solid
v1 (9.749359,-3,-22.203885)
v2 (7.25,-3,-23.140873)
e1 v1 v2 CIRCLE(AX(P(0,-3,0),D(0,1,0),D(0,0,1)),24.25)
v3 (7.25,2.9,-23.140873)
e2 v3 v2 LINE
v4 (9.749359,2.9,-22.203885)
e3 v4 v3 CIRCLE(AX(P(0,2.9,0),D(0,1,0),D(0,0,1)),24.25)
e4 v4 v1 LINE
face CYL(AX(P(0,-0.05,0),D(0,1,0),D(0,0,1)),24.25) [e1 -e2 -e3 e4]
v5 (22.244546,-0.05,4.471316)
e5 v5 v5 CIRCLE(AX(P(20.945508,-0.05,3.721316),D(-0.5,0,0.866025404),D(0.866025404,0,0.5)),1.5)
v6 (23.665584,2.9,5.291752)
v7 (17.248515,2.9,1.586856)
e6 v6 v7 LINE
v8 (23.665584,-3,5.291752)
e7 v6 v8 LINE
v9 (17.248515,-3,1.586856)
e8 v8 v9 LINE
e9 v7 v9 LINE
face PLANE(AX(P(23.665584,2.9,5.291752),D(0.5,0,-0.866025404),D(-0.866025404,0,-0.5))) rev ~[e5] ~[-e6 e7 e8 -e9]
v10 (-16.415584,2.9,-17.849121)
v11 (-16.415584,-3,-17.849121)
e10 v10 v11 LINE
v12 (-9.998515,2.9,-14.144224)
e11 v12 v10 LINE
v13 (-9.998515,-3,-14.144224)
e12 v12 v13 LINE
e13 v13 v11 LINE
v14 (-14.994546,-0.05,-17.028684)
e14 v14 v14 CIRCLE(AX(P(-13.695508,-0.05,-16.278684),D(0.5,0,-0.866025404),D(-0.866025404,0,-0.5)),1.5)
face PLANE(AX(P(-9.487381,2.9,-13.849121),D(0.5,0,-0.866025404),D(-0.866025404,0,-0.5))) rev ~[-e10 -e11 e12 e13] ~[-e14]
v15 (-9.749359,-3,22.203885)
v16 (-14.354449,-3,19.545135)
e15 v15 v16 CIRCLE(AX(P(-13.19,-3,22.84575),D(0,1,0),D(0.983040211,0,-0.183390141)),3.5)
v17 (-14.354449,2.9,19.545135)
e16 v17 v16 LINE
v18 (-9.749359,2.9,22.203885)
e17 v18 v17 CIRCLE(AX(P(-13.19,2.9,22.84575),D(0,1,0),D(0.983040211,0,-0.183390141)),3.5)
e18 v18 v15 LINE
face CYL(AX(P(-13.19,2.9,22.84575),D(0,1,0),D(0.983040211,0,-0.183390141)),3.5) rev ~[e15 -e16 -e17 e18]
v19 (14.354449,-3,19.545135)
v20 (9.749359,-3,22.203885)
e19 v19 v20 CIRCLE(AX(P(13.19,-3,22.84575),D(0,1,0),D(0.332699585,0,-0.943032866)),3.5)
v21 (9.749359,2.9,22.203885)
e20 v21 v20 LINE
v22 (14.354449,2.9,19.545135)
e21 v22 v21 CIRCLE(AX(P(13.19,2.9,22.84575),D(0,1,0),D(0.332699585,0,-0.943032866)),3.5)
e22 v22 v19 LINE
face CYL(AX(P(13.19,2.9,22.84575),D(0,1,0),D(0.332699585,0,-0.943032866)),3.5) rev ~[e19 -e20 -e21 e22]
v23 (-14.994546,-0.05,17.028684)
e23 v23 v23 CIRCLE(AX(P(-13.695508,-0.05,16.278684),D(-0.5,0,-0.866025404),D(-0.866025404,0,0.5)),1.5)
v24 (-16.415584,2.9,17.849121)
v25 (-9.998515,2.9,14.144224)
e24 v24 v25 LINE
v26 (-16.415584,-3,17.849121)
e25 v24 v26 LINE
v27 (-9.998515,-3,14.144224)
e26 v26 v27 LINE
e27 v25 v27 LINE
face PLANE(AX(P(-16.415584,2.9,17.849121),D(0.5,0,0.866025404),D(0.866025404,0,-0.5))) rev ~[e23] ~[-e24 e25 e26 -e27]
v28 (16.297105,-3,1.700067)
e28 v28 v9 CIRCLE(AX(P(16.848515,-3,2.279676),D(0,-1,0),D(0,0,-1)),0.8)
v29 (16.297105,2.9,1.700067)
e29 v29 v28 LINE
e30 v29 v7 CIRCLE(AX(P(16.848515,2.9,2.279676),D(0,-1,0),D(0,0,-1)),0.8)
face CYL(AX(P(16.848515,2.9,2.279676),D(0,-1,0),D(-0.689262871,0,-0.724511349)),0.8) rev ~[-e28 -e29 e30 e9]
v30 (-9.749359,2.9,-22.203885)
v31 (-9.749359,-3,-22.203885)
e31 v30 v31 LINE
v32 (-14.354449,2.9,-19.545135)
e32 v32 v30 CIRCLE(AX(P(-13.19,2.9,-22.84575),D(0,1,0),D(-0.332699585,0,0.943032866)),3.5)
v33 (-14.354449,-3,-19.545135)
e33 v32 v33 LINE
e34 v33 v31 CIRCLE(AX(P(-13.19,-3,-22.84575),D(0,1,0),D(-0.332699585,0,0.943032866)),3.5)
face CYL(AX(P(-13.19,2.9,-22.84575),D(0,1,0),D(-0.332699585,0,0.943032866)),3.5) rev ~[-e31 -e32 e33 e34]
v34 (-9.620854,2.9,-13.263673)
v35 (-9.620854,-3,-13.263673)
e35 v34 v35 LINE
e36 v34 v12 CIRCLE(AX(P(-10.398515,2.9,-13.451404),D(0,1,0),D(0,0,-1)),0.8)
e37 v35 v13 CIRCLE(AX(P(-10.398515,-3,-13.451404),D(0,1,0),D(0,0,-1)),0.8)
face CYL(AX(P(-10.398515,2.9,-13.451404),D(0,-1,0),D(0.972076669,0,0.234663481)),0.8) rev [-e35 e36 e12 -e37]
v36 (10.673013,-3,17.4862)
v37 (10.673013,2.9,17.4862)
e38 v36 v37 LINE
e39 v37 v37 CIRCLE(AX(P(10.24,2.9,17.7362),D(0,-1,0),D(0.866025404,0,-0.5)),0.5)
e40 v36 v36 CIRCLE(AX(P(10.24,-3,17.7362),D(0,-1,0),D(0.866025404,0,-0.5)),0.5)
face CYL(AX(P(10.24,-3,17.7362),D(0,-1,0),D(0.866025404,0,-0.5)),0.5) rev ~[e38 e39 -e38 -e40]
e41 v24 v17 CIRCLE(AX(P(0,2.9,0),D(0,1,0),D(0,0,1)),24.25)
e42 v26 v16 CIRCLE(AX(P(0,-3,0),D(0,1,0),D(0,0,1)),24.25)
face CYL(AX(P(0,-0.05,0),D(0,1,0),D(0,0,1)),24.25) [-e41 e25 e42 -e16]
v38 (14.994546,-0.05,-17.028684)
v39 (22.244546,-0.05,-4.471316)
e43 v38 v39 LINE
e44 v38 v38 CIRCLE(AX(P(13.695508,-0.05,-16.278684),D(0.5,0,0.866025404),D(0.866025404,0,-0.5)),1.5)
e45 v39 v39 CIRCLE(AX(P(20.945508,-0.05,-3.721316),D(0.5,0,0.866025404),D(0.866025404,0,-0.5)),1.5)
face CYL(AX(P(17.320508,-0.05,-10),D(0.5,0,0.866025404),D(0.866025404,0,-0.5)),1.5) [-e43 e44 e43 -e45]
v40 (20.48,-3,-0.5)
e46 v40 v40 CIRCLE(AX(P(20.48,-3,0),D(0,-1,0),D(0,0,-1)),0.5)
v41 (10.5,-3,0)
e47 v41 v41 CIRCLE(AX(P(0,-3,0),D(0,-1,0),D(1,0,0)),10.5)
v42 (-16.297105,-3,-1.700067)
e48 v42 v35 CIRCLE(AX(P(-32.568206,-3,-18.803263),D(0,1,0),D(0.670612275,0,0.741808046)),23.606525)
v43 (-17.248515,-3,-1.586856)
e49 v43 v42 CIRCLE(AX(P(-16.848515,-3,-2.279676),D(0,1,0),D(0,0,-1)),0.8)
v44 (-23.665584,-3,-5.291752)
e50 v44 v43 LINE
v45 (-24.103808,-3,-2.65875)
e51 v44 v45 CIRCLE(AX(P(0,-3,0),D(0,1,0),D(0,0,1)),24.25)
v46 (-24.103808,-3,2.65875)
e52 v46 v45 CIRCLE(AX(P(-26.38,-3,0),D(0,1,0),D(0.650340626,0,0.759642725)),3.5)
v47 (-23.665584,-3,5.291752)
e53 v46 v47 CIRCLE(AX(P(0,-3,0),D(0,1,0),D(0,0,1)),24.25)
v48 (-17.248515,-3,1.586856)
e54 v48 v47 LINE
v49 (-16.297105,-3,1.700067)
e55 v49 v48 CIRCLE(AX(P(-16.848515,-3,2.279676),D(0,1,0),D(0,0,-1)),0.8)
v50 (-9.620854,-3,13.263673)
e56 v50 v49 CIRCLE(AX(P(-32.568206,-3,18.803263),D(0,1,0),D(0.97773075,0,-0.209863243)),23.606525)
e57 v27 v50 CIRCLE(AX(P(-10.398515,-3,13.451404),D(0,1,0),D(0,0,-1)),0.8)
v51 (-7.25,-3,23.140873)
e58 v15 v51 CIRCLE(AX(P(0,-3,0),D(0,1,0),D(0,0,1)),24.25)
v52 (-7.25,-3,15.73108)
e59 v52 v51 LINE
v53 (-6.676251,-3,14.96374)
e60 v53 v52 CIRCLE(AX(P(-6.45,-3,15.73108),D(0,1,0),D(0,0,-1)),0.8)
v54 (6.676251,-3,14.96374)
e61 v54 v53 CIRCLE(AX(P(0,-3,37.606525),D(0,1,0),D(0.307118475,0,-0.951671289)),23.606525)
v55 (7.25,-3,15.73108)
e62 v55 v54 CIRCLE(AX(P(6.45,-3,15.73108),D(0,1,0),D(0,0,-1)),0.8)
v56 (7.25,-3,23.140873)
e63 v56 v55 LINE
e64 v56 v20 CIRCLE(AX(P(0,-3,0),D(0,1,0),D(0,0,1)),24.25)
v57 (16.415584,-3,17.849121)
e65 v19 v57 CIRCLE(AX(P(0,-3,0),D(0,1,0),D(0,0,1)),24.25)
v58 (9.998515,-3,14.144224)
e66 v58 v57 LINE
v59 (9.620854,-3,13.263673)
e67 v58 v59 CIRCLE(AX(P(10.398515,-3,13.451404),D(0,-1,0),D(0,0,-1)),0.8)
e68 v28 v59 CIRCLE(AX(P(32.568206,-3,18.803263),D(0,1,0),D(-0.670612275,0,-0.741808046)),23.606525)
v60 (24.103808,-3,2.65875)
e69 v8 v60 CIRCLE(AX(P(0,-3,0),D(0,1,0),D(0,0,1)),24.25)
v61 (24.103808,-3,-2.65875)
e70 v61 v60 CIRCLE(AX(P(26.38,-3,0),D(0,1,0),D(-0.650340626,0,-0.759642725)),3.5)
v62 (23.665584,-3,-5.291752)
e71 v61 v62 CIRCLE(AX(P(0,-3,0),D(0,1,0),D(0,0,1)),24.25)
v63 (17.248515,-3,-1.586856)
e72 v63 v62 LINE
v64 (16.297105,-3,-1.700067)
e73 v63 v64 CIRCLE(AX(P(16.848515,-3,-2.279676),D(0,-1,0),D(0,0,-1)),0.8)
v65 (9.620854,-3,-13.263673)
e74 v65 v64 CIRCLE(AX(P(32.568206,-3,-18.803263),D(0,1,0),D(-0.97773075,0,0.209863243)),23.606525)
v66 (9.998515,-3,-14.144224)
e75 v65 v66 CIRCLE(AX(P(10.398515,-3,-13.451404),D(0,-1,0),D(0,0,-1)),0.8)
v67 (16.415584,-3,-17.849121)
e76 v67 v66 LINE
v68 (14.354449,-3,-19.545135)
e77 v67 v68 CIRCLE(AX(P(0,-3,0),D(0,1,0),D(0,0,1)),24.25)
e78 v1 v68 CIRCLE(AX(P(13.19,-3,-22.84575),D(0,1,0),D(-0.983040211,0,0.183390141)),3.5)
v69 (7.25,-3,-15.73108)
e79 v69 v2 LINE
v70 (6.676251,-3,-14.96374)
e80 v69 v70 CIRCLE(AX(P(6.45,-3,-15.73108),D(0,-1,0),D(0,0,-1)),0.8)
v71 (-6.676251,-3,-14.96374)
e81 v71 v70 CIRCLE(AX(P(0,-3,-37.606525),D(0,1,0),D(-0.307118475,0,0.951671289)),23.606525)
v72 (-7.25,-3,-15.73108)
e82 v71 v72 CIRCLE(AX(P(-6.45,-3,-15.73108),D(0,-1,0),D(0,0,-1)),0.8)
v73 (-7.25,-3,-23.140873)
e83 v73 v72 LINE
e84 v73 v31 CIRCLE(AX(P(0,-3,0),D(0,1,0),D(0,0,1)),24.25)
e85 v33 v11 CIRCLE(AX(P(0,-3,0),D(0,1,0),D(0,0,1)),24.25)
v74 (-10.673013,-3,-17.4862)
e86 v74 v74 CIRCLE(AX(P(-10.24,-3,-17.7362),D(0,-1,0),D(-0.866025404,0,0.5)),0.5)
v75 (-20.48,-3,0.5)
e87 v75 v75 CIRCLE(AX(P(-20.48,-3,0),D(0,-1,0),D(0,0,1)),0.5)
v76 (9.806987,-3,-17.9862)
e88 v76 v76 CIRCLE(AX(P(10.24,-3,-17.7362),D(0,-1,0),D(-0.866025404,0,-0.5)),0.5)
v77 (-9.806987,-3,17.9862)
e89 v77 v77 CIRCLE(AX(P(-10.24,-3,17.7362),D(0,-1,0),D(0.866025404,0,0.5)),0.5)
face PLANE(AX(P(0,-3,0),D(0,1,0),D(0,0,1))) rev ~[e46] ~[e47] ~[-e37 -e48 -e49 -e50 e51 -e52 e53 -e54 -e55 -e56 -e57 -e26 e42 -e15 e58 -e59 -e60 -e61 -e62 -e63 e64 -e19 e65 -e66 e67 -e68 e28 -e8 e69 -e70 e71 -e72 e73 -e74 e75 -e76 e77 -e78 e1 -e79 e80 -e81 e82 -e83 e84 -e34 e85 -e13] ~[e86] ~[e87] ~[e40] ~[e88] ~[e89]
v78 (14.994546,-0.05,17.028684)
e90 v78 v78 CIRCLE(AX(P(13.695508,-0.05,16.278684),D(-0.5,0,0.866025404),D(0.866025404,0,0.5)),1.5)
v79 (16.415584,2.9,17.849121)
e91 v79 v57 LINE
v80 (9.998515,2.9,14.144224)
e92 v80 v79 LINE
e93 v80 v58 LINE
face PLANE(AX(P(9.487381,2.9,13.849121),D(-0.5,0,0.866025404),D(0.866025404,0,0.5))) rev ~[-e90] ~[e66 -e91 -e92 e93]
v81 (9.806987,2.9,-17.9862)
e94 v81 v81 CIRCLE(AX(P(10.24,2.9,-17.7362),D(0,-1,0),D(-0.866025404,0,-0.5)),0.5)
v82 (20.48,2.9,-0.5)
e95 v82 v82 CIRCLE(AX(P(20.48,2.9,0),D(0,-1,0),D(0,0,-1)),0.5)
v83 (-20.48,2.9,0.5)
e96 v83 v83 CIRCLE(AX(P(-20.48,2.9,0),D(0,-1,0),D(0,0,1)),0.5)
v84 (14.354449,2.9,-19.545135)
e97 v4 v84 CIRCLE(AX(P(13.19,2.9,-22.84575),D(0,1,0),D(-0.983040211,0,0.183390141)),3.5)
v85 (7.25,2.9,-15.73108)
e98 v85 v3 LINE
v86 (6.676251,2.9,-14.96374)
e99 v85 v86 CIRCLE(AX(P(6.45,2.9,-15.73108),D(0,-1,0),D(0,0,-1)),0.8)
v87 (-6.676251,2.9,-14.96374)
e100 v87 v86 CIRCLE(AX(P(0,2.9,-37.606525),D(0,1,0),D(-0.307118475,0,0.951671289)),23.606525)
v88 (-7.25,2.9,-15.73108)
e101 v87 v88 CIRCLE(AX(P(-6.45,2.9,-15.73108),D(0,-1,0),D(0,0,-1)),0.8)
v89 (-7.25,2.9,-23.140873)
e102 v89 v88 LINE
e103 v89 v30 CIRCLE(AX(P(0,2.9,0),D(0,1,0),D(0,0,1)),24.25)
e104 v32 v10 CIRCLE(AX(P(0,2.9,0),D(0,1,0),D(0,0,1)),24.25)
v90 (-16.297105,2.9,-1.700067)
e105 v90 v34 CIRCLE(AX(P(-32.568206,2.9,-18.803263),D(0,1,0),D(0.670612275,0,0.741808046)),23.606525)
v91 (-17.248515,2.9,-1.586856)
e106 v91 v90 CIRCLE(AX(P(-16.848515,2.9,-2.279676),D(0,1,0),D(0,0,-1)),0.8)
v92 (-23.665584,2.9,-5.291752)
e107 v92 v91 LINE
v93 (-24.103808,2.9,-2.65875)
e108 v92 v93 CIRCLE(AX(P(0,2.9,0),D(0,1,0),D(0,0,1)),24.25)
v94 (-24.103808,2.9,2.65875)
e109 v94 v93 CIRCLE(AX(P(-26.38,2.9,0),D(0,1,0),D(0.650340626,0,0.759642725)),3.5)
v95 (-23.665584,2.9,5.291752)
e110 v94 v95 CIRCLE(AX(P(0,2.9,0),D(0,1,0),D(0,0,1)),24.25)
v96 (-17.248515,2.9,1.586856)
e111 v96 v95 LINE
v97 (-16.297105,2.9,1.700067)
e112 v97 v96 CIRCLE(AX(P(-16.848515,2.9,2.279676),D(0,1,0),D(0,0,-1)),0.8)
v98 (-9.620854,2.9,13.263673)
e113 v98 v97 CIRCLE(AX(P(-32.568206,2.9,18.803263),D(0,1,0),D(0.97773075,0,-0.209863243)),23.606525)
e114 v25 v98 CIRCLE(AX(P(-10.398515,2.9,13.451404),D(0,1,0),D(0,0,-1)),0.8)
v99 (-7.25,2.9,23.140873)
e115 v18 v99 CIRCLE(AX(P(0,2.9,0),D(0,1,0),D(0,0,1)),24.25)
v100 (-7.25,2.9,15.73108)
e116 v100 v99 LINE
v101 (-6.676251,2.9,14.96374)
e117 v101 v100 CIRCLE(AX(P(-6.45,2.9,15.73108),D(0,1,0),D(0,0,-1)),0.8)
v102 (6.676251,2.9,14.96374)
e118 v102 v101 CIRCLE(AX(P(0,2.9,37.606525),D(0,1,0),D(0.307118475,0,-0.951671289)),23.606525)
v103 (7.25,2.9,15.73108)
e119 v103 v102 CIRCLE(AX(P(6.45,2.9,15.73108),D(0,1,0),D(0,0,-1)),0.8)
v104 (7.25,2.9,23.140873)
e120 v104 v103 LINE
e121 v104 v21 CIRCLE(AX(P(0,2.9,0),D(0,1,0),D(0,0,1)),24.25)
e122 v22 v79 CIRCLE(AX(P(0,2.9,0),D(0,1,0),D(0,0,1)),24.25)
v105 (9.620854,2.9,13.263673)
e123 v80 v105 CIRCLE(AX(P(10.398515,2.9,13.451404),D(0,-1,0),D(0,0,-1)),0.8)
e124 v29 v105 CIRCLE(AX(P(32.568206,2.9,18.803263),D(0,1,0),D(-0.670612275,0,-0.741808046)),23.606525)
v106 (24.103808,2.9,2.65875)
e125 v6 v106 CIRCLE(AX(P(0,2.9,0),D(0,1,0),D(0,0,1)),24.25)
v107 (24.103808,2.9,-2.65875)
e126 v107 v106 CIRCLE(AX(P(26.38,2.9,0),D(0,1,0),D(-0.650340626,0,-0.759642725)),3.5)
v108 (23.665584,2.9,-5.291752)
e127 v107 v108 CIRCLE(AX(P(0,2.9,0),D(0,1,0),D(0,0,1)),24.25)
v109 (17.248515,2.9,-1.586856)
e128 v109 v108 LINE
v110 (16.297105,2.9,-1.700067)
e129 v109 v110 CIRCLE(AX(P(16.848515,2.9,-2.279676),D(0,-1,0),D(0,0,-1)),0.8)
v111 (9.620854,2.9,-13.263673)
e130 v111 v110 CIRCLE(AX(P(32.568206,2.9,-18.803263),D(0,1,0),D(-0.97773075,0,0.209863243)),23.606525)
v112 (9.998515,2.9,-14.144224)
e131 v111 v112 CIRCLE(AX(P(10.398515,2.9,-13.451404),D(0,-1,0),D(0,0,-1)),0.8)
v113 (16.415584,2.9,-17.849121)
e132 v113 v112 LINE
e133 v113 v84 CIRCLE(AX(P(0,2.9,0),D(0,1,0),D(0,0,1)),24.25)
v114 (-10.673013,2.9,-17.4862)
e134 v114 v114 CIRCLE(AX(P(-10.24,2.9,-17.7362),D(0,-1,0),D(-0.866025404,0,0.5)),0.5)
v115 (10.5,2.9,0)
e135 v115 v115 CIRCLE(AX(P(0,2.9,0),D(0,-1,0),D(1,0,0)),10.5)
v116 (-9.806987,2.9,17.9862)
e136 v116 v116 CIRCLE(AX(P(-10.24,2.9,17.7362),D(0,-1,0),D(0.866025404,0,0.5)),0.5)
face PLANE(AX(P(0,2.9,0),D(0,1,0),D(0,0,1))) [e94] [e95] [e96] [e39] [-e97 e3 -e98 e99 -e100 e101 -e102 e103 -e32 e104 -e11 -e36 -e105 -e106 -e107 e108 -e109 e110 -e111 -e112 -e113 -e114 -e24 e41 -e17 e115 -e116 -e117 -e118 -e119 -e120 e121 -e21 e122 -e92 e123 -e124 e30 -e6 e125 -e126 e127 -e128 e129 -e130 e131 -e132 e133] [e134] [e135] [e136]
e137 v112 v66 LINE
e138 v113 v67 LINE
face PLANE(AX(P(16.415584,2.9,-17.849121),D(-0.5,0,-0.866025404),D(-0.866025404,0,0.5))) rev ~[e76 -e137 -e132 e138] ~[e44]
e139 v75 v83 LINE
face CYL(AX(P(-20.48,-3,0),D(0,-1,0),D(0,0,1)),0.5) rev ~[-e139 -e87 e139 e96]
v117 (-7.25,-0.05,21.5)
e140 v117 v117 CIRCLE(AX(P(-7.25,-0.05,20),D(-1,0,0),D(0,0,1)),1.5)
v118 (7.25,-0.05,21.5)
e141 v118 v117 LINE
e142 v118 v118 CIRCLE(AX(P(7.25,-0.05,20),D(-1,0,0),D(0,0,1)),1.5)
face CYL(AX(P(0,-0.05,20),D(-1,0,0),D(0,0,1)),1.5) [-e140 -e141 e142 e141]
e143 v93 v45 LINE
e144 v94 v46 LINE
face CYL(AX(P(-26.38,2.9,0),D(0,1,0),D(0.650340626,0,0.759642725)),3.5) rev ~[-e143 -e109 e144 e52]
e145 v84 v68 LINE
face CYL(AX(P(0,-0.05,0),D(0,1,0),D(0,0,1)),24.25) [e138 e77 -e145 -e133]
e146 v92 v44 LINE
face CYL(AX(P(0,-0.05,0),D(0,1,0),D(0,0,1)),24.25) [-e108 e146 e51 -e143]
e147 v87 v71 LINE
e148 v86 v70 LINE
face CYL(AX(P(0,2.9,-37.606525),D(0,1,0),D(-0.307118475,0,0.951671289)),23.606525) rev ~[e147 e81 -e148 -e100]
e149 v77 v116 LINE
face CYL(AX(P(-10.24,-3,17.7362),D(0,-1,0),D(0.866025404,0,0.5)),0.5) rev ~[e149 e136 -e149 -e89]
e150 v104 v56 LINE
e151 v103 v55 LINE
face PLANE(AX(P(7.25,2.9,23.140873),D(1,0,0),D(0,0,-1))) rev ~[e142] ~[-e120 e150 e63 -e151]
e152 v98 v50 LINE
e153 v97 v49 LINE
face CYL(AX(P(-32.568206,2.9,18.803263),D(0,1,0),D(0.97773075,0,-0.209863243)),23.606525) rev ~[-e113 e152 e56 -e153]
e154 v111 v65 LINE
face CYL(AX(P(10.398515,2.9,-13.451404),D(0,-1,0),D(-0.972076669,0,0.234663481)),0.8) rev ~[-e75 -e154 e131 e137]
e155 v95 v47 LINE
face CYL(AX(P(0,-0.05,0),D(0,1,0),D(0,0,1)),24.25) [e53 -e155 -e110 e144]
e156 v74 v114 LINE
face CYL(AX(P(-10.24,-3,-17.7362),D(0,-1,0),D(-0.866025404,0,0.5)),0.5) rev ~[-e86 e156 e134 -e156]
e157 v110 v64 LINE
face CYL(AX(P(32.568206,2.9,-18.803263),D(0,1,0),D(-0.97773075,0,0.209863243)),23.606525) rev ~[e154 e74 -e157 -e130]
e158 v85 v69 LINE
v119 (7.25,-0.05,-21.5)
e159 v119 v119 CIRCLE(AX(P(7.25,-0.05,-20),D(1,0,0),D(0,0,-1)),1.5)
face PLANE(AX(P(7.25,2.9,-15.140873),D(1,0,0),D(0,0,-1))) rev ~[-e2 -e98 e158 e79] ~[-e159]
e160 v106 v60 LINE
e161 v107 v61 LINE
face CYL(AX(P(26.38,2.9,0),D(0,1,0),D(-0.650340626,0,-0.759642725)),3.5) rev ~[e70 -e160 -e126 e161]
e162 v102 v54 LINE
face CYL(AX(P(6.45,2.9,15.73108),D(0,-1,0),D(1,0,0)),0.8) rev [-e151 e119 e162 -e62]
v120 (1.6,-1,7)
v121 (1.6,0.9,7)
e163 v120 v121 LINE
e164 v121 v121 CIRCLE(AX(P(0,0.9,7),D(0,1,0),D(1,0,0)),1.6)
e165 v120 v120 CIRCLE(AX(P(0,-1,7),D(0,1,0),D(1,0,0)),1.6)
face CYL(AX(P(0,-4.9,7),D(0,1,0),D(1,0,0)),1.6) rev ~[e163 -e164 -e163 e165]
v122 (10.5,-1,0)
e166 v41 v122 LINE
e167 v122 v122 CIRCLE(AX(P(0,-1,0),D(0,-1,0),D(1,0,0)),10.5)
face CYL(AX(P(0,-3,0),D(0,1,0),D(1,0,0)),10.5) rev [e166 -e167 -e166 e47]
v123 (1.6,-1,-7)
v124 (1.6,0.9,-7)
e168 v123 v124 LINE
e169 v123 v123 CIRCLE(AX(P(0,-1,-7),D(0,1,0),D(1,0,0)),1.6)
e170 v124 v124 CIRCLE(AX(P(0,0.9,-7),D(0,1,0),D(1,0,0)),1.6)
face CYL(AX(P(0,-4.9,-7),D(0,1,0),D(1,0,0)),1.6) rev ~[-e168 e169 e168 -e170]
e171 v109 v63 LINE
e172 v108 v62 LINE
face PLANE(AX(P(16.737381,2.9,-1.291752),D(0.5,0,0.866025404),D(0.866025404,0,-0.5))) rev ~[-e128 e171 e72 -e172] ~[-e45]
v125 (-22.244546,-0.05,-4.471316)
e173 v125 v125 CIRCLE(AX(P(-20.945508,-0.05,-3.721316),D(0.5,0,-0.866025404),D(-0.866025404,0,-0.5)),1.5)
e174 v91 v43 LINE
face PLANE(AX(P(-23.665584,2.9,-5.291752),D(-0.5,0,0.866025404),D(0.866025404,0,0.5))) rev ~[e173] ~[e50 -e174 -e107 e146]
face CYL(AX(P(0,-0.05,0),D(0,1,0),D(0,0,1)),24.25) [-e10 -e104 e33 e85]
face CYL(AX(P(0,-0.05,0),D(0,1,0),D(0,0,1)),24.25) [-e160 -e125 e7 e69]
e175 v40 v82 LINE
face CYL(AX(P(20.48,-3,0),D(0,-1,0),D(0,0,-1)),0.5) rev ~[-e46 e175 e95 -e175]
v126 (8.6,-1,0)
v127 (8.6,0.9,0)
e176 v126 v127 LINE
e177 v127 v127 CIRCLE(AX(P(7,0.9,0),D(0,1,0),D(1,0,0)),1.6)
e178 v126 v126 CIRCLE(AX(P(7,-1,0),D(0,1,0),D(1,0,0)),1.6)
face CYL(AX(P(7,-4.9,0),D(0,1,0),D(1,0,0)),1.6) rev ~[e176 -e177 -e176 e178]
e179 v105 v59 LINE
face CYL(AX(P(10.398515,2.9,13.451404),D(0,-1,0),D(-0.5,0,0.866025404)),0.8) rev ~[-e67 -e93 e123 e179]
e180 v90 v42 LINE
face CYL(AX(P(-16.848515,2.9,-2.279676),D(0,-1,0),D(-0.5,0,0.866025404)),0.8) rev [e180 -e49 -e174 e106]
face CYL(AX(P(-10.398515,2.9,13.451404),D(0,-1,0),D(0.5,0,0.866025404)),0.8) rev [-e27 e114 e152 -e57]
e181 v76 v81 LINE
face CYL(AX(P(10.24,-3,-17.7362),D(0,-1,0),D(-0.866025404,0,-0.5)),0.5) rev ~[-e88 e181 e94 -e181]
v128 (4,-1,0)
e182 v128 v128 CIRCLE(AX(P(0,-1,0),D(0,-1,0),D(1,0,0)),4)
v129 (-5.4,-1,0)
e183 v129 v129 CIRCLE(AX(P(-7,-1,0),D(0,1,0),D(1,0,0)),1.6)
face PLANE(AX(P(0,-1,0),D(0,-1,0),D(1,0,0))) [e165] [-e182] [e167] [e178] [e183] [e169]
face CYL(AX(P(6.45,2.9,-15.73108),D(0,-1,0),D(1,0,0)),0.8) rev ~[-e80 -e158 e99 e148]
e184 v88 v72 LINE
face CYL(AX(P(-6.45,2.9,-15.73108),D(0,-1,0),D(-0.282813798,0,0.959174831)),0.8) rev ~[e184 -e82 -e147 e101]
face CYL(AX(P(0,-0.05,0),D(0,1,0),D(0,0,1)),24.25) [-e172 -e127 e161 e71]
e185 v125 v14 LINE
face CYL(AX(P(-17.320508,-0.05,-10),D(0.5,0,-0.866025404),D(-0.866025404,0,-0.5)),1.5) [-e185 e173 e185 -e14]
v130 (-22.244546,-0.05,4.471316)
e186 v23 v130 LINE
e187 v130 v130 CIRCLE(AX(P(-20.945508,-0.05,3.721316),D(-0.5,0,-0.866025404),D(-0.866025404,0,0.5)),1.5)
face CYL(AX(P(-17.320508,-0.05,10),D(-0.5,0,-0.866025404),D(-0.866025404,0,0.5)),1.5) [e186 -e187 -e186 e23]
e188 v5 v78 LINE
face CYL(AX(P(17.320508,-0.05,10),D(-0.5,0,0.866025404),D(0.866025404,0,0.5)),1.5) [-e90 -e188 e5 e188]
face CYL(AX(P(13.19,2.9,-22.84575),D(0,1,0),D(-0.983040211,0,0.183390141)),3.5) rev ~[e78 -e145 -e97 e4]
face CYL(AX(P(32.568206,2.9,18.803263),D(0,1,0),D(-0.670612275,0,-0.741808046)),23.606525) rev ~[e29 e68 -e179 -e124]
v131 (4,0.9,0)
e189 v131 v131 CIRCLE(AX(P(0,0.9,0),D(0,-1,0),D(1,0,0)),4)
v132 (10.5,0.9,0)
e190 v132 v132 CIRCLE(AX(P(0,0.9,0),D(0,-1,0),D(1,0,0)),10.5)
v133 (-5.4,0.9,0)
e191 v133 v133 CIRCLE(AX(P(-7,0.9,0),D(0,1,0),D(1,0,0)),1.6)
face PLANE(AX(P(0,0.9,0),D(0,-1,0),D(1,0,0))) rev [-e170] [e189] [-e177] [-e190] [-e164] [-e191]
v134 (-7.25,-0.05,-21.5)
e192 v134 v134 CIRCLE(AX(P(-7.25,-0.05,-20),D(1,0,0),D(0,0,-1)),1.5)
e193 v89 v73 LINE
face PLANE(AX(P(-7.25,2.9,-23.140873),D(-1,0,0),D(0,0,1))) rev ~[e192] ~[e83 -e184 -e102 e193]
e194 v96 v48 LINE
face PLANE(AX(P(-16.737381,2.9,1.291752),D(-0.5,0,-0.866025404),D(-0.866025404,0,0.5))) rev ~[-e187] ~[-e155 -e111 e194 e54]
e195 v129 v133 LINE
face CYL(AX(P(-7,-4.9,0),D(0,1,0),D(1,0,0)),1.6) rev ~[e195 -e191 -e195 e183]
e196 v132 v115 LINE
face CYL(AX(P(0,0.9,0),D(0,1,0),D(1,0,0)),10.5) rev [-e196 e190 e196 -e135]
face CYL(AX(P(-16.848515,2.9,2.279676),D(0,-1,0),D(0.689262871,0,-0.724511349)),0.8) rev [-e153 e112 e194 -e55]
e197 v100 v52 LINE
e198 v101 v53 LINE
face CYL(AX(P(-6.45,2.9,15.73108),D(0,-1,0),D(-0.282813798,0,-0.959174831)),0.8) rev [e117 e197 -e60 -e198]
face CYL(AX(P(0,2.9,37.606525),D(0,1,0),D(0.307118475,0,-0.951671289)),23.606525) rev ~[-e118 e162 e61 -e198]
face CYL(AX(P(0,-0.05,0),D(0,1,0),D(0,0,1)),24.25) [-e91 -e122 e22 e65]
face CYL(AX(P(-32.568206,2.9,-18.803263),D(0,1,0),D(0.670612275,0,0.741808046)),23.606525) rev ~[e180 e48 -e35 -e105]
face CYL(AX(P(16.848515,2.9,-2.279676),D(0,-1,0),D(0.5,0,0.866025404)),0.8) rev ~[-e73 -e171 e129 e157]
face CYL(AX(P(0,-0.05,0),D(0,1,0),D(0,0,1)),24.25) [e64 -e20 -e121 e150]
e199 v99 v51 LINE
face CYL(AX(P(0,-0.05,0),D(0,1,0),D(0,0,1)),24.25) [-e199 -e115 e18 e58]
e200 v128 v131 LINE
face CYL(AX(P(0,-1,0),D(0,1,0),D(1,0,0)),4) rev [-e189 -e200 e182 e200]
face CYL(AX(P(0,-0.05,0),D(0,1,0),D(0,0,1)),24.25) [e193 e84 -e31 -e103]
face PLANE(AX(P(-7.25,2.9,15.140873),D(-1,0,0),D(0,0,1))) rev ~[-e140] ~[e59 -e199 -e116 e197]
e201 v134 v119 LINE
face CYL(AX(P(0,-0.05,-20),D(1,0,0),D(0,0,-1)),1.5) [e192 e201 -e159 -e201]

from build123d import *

# Parameters (mm, degrees)
SKETCH_1_W                  = 24.25
SKETCH_1_H                  = 5.9
CUT_EXTRUDE_1_DEPTH         = 35.798491347
CUT_EXTRUDE_2_DEPTH         = 35.798491347
CUT_EXTRUDE_3_DEPTH         = 35.798491347
CUT_EXTRUDE_4_DEPTH         = 35.798491347
CUT_EXTRUDE_5_DEPTH         = 35.798491347
CUT_EXTRUDE_6_DEPTH         = 35.798491347
CUT_EXTRUDE_7_DEPTH         = 35.798491347
CUT_EXTRUDE_8_DEPTH         = 35.034871823
CUT_EXTRUDE_9_DEPTH         = 35.034871823
CUT_EXTRUDE_10_DEPTH        = 35.034871823
CUT_EXTRUDE_11_DEPTH        = 34.930864282
CUT_EXTRUDE_12_DEPTH        = 34.930864282
SKETCH_15_W                 = 14.5
SKETCH_15_H                 = 1.5
HOLE_WIZARD_3_2_3_2_1_D     = 3.2
HOLE_WIZARD_3_2_3_2_1_DEPTH = 3.9
FILLET_1_R                  = 0.8
SKETCH_23_R                 = 0.5
CUT_EXTRUDE_13_DEPTH        = 10
PATTERN_CIRCULAR_1_COUNT    = 6
PATTERN_CIRCULAR_2_COUNT    = 6


with BuildPart() as part:
    # 草图1 → 旋转1 (revolve)
    with BuildSketch(Plane(origin=(0, 0, 0), x_dir=(-1, 0, 0), z_dir=(0, 0, -1)), mode=Mode.PRIVATE) as revolve_1_sk:
        with Locations((-12.125, -0.05)):
            Rectangle(SKETCH_1_W, SKETCH_1_H)
    revolve(revolve_1_sk.sketch.rotate(Axis((0, -3, 0), (0, 1, 0)), 270), axis=Axis((0, -3, 0), (0, 1, 0)))

    # 草图2 → 切除-拉伸1 (cut, through all)
    with BuildSketch(Plane(origin=(0, 2.9, 0), x_dir=(-1, 0, 0), z_dir=(0, 1, 0))):
        with BuildLine():
            Line((-7.25, 23.140872931), (-7.25, 15.140872931))
            ThreePointArc((-7.25, 15.140872931), (0, 14), (7.25, 15.140872931))
            Line((7.25, 15.140872931), (7.25, 23.140872931))
            ThreePointArc((7.25, 23.140872931), (0, 24.25), (-7.25, 23.140872931))
        make_face()
    extrude(amount=-CUT_EXTRUDE_1_DEPTH, mode=Mode.SUBTRACT)

    # 草图3 → 切除-拉伸2 (cut, through all)
    with BuildSketch(Plane(origin=(0, 2.9, 0), x_dir=(-1, 0, 0), z_dir=(0, 1, 0))):
        with BuildLine():
            ThreePointArc((14.354448547, 19.545135121), (12.125, 21.001116042), (9.749359262, 22.20388466))
            ThreePointArc((9.749359262, 22.20388466), (11.44, 19.814661239), (14.354448547, 19.545135121))
        make_face()
    extrude(amount=-CUT_EXTRUDE_2_DEPTH, mode=Mode.SUBTRACT)

    # 草图4 → 切除-拉伸3 (cut, through all)
    with BuildSketch(Plane(origin=(0, 2.9, 0), x_dir=(-1, 0, 0), z_dir=(0, 1, 0))):
        with BuildLine():
            Line((16.415583824, 17.849120643), (9.487380594, 13.849120643))
            ThreePointArc((9.487380594, 13.849120643), (12.124355653, 7), (16.737380594, 1.291752288))
            Line((16.737380594, 1.291752288), (23.665583824, 5.291752288))
            ThreePointArc((23.665583824, 5.291752288), (21.001116042, 12.125), (16.415583824, 17.849120643))
        make_face()
    extrude(amount=-CUT_EXTRUDE_3_DEPTH, mode=Mode.SUBTRACT)

    # 草图5 → 切除-拉伸4 (cut, through all)
    with BuildSketch(Plane(origin=(0, 2.9, 0), x_dir=(-1, 0, 0), z_dir=(0, 1, 0))):
        with BuildLine():
            ThreePointArc((24.103807809, -2.658749539), (24.25, 0), (24.103807809, 2.658749539))
            ThreePointArc((24.103807809, 2.658749539), (22.88, 0), (24.103807809, -2.658749539))
        make_face()
    extrude(amount=-CUT_EXTRUDE_4_DEPTH, mode=Mode.SUBTRACT)

    # 草图6 → 切除-拉伸5 (cut, through all)
    with BuildSketch(Plane(origin=(0, 2.9, 0), x_dir=(-1, 0, 0), z_dir=(0, 1, 0))):
        with BuildLine():
            Line((23.665583824, -5.291752288), (16.737380594, -1.291752288))
            ThreePointArc((16.737380594, -1.291752288), (12.124355653, -7), (9.487380594, -13.849120643))
            Line((9.487380594, -13.849120643), (16.415583824, -17.849120643))
            ThreePointArc((16.415583824, -17.849120643), (21.001116042, -12.125), (23.665583824, -5.291752288))
        make_face()
    extrude(amount=-CUT_EXTRUDE_5_DEPTH, mode=Mode.SUBTRACT)

    # 草图7 → 切除-拉伸6 (cut, through all)
    with BuildSketch(Plane(origin=(0, 2.9, 0), x_dir=(-1, 0, 0), z_dir=(0, 1, 0))):
        with BuildLine():
            ThreePointArc((9.749359262, -22.20388466), (12.125, -21.001116042), (14.354448547, -19.545135121))
            ThreePointArc((14.354448547, -19.545135121), (11.44, -19.814661239), (9.749359262, -22.20388466))
        make_face()
    extrude(amount=-CUT_EXTRUDE_6_DEPTH, mode=Mode.SUBTRACT)

    # 草图8 → 切除-拉伸7 (cut, through all)
    with BuildSketch(Plane(origin=(0, 2.9, 0), x_dir=(-1, 0, 0), z_dir=(0, 1, 0))):
        with BuildLine():
            Line((7.25, -23.140872931), (7.25, -15.140872931))
            ThreePointArc((7.25, -15.140872931), (0, -14), (-7.25, -15.140872931))
            Line((-7.25, -15.140872931), (-7.25, -23.140872931))
            ThreePointArc((-7.25, -23.140872931), (0, -24.25), (7.25, -23.140872931))
        make_face()
    extrude(amount=-CUT_EXTRUDE_7_DEPTH, mode=Mode.SUBTRACT)

    # 草图9 → 切除-拉伸8 (cut, through all)
    with BuildSketch(Plane(origin=(0, 2.9, 0), x_dir=(-1, 0, 0), z_dir=(0, 1, 0))):
        with BuildLine():
            ThreePointArc((-14.354448547, -19.545135121), (-12.125, -21.001116042), (-9.749359262, -22.20388466))
            ThreePointArc((-9.749359262, -22.20388466), (-11.44, -19.814661239), (-14.354448547, -19.545135121))
        make_face()
    extrude(amount=-CUT_EXTRUDE_8_DEPTH, mode=Mode.SUBTRACT)

    # 草图10 → 切除-拉伸9 (cut, through all)
    with BuildSketch(Plane(origin=(0, 2.9, 0), x_dir=(-1, 0, 0), z_dir=(0, 1, 0))):
        with BuildLine():
            Line((-16.415583824, -17.849120643), (-9.487380594, -13.849120643))
            ThreePointArc((-9.487380594, -13.849120643), (-12.124355653, -7), (-16.737380594, -1.291752288))
            Line((-16.737380594, -1.291752288), (-23.665583824, -5.291752288))
            ThreePointArc((-23.665583824, -5.291752288), (-21.001116042, -12.125), (-16.415583824, -17.849120643))
        make_face()
    extrude(amount=-CUT_EXTRUDE_9_DEPTH, mode=Mode.SUBTRACT)

    # 草图11 → 切除-拉伸10 (cut, through all)
    with BuildSketch(Plane(origin=(0, 2.9, 0), x_dir=(-1, 0, 0), z_dir=(0, 1, 0))):
        with BuildLine():
            ThreePointArc((-24.103807809, 2.658749539), (-24.25, 0), (-24.103807809, -2.658749539))
            ThreePointArc((-24.103807809, -2.658749539), (-22.88, 0), (-24.103807809, 2.658749539))
        make_face()
    extrude(amount=-CUT_EXTRUDE_10_DEPTH, mode=Mode.SUBTRACT)

    # 草图12 → 切除-拉伸11 (cut, through all)
    with BuildSketch(Plane(origin=(0, 2.9, 0), x_dir=(-1, 0, 0), z_dir=(0, 1, 0))):
        with BuildLine():
            Line((-23.665583824, 5.291752288), (-16.737380594, 1.291752288))
            ThreePointArc((-16.737380594, 1.291752288), (-12.124355653, 7), (-9.487380594, 13.849120643))
            Line((-9.487380594, 13.849120643), (-16.415583824, 17.849120643))
            ThreePointArc((-16.415583824, 17.849120643), (-21.001116042, 12.125), (-23.665583824, 5.291752288))
        make_face()
    extrude(amount=-CUT_EXTRUDE_11_DEPTH, mode=Mode.SUBTRACT)

    # 草图13 → 切除-拉伸12 (cut, through all)
    with BuildSketch(Plane(origin=(0, 2.9, 0), x_dir=(-1, 0, 0), z_dir=(0, 1, 0))):
        with BuildLine():
            ThreePointArc((-9.749359262, 22.20388466), (-12.125, 21.001116042), (-14.354448547, 19.545135121))
            ThreePointArc((-14.354448547, 19.545135121), (-11.44, 19.814661239), (-9.749359262, 22.20388466))
        make_face()
    extrude(amount=-CUT_EXTRUDE_12_DEPTH, mode=Mode.SUBTRACT)

    # 草图14 → 切除-旋转1 (revolve, cut)
    with BuildSketch(Plane.XY):
        Polygon((10.5, 2.9), (0, 2.9), (0, -3), (10.5, -3), (10.5, -1), (4, -1), (4, 0.9), (10.5, 0.9), align=None)
    revolve(axis=Axis((0, 2.9, 0), (0, -1, 0)), mode=Mode.SUBTRACT)

    # 草图15 → 旋转2 (revolve)
    with BuildSketch(Plane(origin=(0, 0, 20), x_dir=(-1, 0, 0), z_dir=(0, 0, -1)), mode=Mode.PRIVATE) as revolve_2_sk:
        with Locations((0, 0.7)):
            Rectangle(SKETCH_15_W, SKETCH_15_H)
    revolve_2 = revolve(revolve_2_sk.sketch.rotate(Axis((7.25, -0.05, 20), (-1, 0, 0)), 270), axis=Axis((7.25, -0.05, 20), (-1, 0, 0)))

    # Ø3.2 (3.2) 直径孔1
    with Locations(Plane(origin=(0, -1, 0), x_dir=(-1, 0, 0), z_dir=(0, -1, 0))):
        with Locations((0, 7), (0, -7), (-7, 0), (7, 0)):
            Hole(HOLE_WIZARD_3_2_3_2_1_D / 2, depth=HOLE_WIZARD_3_2_3_2_1_DEPTH)

    # 圆角1
    fillet_1_edges = [part.edges().sort_by_distance(p)[0] for p in [
        (16.737380594, -0.05, -1.291752288),
        (9.487380594, -0.05, -13.849120643),
        (-7.25, -0.05, 15.140872931),
        (7.25, -0.05, 15.140872931),
        (9.487380594, -0.05, 13.849120643),
        (16.737380594, -0.05, 1.291752288),
        (-16.737380594, -0.05, 1.291752288),
        (-9.487380594, -0.05, 13.849120643),
        (-9.487380594, -0.05, -13.849120643),
        (-16.737380594, -0.05, -1.291752288),
        (7.25, -0.05, -15.140872931),
        (-7.25, -0.05, -15.140872931),
    ]]
    fillet(fillet_1_edges, radius=FILLET_1_R)

    # 草图23 → 切除-拉伸13 (cut)
    with BuildSketch(Plane.XZ.offset(3)):
        with Locations(Location((20.48, 0, 0), (0, 0, 270))):
            Circle(SKETCH_23_R)
    cut_extrude_13 = extrude(amount=-CUT_EXTRUDE_13_DEPTH, mode=Mode.SUBTRACT)

    # 阵列(圆周)1: 切除-拉伸13 ×6 about axis
    pattern_circular_1_axis = Axis((0, 0, 0), (0, 1, 0))
    for i in range(1, PATTERN_CIRCULAR_1_COUNT):
        add(cut_extrude_13.rotate(pattern_circular_1_axis, i * 360 / PATTERN_CIRCULAR_1_COUNT), mode=Mode.SUBTRACT)

    # 阵列(圆周)2: 旋转2 ×6 about axis
    pattern_circular_2_axis = Axis((0, 2.9, 0), (0, -1, 0))
    for i in range(1, PATTERN_CIRCULAR_2_COUNT):
        add(revolve_2.rotate(pattern_circular_2_axis, i * 360 / PATTERN_CIRCULAR_2_COUNT))


solid = part.part
